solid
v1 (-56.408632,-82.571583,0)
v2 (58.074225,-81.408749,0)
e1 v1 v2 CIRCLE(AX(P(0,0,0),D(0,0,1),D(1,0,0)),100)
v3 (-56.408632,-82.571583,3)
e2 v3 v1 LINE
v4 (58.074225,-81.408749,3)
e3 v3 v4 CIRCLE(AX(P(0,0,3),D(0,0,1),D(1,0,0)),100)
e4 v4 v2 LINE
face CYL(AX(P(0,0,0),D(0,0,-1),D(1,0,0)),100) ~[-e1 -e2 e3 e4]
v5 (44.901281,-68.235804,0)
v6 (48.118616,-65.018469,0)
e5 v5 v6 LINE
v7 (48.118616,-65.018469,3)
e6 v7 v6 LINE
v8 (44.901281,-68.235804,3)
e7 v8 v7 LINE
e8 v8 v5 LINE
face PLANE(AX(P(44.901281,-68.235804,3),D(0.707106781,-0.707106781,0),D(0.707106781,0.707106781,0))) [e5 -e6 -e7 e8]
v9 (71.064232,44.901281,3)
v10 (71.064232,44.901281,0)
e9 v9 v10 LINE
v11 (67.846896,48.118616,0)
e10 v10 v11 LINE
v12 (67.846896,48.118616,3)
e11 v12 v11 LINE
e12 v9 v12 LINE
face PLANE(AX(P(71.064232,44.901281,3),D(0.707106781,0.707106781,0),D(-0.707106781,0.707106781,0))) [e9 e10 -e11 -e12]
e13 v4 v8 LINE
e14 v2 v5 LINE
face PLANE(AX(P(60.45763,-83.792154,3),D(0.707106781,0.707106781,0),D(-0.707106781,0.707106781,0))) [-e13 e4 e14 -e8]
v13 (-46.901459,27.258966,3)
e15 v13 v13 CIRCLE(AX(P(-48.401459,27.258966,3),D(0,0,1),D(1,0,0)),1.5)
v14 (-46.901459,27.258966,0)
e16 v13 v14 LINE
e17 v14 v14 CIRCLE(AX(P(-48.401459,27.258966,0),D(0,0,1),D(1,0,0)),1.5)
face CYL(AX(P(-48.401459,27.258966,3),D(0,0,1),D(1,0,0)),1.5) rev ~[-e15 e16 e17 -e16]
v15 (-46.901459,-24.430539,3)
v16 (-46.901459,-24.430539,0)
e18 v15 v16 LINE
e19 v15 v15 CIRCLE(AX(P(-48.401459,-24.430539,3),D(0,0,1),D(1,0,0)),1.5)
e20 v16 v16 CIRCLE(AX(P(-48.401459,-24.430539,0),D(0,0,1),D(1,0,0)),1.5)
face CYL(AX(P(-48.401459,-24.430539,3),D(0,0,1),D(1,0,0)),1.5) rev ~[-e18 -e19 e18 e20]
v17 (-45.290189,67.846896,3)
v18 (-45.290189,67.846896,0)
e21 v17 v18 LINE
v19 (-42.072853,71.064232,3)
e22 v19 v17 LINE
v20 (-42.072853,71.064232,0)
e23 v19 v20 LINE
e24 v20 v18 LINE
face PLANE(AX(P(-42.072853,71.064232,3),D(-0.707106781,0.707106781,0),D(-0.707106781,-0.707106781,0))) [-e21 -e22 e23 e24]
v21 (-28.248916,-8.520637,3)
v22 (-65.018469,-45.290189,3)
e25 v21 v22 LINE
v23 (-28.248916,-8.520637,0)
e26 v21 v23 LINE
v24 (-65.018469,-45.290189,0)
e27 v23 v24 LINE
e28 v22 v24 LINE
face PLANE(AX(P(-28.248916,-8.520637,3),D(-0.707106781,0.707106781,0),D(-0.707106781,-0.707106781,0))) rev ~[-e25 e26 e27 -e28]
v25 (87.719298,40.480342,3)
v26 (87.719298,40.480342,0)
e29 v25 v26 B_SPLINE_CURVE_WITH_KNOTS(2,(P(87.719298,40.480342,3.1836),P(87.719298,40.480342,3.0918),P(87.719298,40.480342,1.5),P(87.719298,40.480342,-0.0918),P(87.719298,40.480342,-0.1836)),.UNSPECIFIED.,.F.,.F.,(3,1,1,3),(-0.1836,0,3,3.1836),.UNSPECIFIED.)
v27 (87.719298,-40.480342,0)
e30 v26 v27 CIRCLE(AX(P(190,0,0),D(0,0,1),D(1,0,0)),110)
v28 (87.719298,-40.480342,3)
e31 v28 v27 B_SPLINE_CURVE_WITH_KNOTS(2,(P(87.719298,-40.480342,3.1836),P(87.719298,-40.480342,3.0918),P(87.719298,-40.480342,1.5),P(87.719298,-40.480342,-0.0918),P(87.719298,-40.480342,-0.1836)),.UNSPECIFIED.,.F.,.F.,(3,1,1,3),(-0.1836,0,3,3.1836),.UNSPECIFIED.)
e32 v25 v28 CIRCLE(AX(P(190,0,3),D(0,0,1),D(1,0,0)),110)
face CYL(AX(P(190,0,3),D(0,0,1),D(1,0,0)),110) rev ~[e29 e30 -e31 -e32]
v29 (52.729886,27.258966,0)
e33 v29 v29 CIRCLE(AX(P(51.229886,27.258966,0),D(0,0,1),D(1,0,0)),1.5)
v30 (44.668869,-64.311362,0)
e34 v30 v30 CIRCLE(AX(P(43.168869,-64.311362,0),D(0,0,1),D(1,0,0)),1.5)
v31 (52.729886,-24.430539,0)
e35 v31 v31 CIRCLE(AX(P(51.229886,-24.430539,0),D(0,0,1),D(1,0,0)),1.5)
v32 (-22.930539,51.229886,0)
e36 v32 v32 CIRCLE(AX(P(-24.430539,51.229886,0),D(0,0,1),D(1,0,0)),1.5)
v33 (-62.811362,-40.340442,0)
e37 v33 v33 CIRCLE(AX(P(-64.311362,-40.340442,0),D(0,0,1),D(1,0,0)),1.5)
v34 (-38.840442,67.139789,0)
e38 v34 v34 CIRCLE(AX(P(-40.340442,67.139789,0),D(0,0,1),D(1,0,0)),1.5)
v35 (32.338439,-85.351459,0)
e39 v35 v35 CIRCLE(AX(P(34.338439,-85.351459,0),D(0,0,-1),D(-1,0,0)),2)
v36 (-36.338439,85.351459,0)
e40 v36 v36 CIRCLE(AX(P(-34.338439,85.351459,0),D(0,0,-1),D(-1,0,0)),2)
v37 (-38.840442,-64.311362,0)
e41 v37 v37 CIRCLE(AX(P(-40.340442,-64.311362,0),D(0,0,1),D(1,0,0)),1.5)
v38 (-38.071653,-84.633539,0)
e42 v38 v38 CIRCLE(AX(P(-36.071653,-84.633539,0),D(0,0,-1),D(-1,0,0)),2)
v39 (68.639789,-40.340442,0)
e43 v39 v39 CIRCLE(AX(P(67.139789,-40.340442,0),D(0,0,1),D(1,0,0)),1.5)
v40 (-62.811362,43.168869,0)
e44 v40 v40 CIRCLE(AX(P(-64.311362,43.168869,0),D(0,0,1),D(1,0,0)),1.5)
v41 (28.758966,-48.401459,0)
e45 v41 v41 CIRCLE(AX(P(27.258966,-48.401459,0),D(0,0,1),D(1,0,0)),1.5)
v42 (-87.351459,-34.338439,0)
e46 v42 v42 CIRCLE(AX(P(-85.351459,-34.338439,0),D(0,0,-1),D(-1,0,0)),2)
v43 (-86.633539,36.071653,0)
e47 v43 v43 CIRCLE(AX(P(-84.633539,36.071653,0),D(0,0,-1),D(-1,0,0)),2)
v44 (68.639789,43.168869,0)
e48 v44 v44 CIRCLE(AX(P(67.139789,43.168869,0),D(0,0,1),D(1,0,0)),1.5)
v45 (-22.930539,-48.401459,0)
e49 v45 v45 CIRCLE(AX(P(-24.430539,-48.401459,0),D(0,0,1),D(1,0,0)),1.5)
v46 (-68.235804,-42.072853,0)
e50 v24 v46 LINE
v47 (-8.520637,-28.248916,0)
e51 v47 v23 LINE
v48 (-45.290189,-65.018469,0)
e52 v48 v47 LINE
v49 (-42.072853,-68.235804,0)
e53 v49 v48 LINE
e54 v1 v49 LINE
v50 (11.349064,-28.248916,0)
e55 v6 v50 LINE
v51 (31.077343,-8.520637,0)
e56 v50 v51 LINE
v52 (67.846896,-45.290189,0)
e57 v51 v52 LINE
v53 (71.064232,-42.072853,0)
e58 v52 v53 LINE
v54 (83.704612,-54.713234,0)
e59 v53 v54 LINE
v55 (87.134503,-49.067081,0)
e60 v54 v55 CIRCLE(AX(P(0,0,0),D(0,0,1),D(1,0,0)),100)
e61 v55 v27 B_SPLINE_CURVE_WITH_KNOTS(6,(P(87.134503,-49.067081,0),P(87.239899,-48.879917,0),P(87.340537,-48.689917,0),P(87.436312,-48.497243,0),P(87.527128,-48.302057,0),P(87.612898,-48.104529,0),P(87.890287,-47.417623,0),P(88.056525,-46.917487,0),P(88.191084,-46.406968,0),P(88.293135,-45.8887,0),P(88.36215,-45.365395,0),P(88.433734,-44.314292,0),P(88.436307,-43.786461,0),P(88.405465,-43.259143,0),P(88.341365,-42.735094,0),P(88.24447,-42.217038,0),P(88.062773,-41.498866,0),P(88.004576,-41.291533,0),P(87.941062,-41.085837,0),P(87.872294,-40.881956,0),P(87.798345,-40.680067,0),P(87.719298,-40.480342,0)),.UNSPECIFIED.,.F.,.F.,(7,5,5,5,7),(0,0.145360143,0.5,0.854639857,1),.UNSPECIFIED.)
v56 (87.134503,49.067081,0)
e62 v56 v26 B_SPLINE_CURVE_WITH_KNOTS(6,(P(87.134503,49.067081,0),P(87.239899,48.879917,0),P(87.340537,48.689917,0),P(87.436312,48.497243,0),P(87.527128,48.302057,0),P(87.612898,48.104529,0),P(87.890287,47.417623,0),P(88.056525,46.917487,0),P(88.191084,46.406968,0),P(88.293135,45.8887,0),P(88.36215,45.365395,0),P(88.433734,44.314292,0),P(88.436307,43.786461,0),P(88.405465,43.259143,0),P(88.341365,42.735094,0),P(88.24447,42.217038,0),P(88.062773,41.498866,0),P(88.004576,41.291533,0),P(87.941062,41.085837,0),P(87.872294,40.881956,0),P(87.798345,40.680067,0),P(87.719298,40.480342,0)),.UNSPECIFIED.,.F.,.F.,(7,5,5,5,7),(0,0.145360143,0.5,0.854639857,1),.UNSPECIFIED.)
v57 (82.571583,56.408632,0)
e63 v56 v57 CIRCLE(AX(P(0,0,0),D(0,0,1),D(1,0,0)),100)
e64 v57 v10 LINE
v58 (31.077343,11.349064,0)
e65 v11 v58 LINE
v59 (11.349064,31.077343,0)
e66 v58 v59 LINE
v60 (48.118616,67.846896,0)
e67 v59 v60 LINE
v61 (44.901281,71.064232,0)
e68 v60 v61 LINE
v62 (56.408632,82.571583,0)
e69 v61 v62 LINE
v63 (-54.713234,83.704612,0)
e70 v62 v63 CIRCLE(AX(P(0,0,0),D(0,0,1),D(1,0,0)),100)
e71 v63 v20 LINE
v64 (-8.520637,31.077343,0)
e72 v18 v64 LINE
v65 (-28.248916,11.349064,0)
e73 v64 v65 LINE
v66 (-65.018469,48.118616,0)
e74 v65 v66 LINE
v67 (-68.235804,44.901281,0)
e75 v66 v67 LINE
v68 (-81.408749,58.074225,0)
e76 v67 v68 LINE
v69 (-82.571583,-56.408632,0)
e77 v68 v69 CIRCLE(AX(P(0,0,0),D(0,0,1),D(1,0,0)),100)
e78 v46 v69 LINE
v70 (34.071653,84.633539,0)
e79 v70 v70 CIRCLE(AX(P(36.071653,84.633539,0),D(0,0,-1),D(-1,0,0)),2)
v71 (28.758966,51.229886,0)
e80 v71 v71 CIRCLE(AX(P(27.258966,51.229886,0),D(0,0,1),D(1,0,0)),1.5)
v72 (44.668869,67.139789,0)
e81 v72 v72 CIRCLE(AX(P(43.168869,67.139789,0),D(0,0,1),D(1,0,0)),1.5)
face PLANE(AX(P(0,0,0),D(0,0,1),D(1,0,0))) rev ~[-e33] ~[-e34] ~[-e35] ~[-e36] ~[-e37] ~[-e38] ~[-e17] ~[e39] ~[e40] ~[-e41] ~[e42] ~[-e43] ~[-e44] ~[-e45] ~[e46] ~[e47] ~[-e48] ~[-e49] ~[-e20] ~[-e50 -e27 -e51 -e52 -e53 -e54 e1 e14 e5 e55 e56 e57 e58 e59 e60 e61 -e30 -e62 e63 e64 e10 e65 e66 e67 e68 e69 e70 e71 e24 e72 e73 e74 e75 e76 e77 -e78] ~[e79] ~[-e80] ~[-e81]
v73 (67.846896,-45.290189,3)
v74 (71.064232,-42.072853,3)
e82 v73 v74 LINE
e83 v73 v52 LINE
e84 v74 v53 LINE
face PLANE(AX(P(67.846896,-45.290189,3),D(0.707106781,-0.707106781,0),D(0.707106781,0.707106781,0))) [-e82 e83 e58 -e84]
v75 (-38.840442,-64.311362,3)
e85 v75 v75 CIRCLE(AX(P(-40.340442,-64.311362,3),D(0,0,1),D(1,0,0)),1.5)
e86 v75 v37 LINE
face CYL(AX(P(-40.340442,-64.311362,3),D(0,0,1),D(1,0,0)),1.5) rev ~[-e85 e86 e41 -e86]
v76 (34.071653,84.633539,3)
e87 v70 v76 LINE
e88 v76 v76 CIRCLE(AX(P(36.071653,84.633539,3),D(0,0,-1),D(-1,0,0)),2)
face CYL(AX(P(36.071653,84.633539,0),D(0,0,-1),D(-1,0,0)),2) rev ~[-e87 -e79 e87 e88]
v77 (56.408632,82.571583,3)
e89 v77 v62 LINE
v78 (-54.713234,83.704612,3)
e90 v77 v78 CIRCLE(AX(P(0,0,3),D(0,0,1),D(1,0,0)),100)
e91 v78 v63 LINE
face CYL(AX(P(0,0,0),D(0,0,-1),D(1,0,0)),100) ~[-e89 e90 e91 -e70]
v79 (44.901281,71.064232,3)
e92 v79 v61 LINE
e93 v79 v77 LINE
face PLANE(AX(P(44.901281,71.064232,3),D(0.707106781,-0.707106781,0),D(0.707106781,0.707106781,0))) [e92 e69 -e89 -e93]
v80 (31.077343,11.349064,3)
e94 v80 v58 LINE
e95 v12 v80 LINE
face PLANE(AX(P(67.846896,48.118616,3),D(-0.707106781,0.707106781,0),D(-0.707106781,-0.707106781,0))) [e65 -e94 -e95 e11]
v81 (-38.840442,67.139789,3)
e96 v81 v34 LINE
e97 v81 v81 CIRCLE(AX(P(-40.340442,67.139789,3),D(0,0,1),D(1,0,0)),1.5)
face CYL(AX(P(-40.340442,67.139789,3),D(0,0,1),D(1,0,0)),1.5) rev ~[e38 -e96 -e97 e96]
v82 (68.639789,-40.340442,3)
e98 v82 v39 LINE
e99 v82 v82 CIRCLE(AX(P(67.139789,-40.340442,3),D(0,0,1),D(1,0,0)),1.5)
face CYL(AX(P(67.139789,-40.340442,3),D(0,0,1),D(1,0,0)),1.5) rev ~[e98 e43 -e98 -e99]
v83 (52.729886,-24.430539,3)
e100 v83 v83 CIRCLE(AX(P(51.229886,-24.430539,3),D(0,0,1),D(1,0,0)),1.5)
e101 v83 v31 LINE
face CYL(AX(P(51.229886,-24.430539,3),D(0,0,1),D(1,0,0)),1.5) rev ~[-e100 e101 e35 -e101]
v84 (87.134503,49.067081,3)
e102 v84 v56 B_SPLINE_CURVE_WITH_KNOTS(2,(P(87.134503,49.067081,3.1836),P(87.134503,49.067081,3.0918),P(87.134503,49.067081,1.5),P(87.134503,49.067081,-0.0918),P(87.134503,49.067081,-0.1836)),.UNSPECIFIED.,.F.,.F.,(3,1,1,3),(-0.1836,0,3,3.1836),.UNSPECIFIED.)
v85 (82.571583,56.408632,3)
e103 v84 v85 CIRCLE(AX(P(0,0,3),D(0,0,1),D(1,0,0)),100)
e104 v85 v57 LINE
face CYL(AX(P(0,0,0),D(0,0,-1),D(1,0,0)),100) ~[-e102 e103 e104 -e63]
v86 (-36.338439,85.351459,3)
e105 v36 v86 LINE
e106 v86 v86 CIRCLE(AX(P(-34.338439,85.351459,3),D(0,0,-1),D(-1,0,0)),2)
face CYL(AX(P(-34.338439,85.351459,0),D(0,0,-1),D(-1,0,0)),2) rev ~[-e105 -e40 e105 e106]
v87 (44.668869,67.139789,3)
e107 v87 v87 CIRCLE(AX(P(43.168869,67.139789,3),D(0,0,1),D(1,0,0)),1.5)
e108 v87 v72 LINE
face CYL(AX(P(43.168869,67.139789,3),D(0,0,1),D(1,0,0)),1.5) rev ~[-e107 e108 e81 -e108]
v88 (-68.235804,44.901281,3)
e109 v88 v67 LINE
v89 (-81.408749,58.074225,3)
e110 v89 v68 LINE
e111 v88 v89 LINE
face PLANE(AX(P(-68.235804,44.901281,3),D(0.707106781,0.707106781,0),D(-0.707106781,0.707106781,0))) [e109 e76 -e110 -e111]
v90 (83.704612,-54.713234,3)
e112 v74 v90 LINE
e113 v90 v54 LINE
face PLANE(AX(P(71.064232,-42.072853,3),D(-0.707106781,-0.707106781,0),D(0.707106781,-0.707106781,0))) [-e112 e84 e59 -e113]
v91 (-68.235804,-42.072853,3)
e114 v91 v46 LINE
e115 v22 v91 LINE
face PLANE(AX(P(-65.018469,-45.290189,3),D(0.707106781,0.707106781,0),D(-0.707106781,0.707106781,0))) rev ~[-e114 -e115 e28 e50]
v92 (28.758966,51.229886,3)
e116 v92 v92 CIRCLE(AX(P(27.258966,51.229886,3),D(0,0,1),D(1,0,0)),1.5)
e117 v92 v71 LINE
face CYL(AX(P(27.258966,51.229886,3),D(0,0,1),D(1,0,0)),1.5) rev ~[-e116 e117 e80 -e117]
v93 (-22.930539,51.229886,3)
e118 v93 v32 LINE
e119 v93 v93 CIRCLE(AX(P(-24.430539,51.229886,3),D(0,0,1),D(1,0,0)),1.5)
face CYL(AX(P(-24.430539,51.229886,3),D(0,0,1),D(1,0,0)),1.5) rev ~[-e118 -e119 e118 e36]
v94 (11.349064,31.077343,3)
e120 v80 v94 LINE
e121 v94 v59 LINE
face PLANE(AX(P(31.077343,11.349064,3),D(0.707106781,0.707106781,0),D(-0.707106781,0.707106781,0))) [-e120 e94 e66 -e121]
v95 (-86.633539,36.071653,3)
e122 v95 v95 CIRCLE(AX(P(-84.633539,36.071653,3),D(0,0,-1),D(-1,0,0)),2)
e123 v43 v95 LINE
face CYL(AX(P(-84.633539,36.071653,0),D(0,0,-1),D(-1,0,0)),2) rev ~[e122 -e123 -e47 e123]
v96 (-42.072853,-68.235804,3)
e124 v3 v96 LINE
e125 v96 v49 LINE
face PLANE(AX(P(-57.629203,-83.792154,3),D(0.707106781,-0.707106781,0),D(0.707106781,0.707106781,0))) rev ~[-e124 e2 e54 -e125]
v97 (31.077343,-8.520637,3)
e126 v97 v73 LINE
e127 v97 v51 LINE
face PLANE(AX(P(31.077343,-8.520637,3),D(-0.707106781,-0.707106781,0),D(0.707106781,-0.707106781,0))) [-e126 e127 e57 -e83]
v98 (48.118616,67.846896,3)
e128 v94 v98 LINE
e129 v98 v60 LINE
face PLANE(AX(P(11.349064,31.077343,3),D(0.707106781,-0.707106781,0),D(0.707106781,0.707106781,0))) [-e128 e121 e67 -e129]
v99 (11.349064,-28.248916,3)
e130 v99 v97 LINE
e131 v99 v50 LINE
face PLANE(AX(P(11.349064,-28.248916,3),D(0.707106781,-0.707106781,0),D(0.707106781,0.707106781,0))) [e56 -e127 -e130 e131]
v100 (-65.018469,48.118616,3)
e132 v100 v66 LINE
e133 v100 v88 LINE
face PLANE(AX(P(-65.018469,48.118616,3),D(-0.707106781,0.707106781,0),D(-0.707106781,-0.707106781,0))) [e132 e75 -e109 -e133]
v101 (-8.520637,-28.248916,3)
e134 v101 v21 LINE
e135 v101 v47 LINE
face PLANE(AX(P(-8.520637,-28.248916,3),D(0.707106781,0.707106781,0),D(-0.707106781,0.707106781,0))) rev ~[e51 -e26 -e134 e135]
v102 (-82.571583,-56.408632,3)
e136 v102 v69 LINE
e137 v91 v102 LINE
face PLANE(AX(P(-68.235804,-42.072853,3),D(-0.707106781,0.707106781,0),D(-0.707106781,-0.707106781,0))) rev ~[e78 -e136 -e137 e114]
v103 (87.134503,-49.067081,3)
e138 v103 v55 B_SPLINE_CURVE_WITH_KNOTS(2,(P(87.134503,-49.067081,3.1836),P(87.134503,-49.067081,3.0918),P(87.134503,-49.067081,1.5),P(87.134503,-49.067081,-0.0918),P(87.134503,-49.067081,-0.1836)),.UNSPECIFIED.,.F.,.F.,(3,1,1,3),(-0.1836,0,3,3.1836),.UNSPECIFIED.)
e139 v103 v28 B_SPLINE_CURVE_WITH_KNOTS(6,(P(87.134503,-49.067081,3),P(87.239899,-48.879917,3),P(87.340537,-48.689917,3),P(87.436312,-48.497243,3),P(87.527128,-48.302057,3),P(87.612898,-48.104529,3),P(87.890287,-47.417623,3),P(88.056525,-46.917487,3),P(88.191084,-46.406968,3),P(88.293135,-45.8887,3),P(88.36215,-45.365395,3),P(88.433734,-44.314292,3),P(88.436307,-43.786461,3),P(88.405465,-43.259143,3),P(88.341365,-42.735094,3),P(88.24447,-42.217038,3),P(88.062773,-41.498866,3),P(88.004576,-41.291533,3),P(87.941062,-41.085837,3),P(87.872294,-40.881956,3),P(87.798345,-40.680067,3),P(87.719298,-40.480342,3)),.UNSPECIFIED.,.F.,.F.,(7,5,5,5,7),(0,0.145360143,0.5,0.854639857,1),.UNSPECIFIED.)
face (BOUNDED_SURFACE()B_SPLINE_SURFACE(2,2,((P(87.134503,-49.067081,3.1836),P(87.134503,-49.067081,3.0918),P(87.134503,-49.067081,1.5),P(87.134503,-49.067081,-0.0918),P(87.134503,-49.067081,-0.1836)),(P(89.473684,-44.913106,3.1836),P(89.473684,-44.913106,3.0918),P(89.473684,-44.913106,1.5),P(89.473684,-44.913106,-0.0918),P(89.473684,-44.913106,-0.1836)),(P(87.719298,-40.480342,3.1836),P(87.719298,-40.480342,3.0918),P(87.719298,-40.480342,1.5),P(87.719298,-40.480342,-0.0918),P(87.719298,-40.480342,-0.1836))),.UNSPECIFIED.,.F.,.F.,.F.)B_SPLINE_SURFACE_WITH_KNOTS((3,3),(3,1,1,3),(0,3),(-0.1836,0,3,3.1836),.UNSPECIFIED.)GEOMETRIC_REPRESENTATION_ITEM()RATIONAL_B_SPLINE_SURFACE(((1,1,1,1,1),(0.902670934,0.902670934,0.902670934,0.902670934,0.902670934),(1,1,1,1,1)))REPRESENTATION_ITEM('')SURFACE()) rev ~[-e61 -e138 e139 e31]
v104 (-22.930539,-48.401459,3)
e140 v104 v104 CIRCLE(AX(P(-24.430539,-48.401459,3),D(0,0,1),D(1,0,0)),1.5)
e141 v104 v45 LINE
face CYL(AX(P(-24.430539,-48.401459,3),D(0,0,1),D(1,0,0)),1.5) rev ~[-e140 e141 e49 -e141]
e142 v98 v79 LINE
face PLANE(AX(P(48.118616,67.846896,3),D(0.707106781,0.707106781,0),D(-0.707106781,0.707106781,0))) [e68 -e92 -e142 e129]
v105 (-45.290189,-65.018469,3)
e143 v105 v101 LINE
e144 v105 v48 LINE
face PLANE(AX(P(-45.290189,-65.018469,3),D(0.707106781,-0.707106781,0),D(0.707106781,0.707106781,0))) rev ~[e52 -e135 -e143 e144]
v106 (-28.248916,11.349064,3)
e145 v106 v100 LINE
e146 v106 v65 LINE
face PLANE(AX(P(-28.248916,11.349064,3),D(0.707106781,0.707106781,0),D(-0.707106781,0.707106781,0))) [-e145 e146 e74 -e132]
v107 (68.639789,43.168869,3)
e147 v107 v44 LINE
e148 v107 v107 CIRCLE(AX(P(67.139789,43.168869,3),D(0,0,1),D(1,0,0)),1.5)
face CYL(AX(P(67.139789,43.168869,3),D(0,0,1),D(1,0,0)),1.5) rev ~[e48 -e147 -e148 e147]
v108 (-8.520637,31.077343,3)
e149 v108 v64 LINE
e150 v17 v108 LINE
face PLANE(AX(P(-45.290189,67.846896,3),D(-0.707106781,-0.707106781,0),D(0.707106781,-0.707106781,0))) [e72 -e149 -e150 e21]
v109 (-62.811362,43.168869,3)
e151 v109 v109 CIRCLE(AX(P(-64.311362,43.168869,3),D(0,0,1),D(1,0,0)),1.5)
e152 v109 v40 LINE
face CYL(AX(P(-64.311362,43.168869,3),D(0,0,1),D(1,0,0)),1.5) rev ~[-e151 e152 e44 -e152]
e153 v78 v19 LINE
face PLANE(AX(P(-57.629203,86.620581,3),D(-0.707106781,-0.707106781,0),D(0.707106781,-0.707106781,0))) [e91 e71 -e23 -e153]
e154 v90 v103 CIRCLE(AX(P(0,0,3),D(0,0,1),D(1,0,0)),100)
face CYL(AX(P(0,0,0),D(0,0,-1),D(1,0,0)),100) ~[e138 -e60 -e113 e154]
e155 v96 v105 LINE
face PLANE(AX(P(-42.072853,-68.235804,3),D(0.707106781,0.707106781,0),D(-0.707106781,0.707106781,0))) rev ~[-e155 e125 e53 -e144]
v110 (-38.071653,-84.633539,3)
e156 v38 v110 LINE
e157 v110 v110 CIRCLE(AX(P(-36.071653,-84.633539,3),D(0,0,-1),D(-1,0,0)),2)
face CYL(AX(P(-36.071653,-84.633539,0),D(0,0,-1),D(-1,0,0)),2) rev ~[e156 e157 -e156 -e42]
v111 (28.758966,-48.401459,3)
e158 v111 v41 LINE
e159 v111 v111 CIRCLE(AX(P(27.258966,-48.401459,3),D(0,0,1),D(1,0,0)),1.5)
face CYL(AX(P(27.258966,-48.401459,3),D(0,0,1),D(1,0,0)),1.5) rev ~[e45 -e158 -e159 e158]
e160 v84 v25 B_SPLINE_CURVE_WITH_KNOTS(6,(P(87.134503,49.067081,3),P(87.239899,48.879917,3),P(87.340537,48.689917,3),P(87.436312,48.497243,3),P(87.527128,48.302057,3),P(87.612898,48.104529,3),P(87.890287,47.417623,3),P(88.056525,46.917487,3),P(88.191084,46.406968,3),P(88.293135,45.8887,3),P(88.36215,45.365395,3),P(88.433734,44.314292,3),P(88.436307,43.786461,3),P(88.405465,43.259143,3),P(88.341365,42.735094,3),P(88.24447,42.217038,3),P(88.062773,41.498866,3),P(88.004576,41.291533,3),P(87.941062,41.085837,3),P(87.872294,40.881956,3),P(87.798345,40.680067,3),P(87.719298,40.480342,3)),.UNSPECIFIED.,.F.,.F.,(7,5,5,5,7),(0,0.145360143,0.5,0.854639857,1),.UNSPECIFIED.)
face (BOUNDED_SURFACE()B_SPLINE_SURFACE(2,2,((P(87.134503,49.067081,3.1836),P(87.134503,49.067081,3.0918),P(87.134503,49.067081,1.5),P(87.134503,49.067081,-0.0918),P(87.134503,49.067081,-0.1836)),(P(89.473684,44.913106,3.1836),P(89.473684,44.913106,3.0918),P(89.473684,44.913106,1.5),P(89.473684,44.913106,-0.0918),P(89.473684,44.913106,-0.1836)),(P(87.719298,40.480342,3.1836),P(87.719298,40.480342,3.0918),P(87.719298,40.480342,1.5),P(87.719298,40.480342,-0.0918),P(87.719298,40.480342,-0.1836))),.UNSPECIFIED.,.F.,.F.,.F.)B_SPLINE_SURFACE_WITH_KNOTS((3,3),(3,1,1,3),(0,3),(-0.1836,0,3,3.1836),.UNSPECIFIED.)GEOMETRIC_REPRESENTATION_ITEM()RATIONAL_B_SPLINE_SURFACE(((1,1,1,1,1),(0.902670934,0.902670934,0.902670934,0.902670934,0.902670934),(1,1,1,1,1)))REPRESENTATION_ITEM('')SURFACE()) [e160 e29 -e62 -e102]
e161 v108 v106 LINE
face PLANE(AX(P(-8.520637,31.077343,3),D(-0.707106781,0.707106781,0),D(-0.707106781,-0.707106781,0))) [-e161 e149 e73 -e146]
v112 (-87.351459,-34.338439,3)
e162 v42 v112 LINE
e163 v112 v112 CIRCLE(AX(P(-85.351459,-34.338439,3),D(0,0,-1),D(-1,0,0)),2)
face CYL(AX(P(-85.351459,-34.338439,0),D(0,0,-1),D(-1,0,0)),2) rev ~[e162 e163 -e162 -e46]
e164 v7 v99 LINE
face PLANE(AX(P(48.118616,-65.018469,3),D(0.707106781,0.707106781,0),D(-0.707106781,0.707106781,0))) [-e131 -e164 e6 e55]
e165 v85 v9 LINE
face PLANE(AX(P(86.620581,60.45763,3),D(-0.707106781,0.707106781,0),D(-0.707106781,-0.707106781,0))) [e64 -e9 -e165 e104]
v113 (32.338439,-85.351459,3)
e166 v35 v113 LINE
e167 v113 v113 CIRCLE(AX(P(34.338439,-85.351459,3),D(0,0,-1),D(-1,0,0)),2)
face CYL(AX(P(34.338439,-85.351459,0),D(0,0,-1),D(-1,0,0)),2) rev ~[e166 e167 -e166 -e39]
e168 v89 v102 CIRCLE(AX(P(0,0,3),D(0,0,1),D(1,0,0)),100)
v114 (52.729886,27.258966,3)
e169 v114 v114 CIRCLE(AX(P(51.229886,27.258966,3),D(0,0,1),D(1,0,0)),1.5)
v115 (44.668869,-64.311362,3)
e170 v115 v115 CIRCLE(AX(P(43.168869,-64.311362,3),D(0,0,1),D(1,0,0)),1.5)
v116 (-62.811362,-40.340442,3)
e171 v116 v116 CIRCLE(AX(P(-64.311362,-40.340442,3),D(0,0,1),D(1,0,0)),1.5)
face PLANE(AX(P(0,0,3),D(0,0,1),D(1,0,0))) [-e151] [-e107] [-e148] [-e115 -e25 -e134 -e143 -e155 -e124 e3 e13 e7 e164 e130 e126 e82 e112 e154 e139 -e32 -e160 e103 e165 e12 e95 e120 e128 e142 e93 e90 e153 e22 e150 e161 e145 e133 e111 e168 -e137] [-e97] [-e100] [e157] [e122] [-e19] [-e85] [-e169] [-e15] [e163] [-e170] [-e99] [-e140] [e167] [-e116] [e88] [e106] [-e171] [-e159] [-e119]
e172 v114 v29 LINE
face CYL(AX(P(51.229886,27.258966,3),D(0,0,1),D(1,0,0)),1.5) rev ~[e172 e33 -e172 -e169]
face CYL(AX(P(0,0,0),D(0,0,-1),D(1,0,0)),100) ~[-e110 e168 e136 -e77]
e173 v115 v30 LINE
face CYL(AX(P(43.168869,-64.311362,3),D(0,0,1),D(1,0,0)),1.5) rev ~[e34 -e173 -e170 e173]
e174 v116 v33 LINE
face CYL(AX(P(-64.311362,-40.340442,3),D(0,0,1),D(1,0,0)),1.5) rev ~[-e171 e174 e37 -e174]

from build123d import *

# Parameters (mm, degrees)
CROQUIS1_R              = 100
SALIENTE_EXTRUIR1_DEPTH = 3
CROQUIS3_R              = 110
CORTAR_EXTRUIR1_DEPTH   = 3
REDONDEO1_R             = 10
CORTAR_EXTRUIR2_DEPTH   = 142.453172607
CROQUIS5_R              = 1.5
CORTAR_EXTRUIR3_DEPTH   = 10
CROQUIS6_R              = 2
CORTAR_EXTRUIR4_DEPTH   = 142.453172607


with BuildPart() as part:
    # Croquis1 → Saliente-Extruir1 (new body)
    with BuildSketch(Plane.XY):
        Circle(CROQUIS1_R)
    extrude(amount=SALIENTE_EXTRUIR1_DEPTH)

    # Croquis3 → Cortar-Extruir1 (cut)
    with BuildSketch(Plane.XY.offset(3)):
        with Locations((190, 0)):
            Circle(CROQUIS3_R)
    extrude(amount=-CORTAR_EXTRUIR1_DEPTH, mode=Mode.SUBTRACT)

    # Redondeo1
    redondeo1_edges = [part.edges().sort_by_distance(p)[0] for p in [
        (89.473684211, -44.659375654, 1.5),
        (89.473684211, 44.659375654, 1.5),
    ]]
    fillet(redondeo1_edges, radius=REDONDEO1_R)

    # Croquis4 → Cortar-Extruir2 (cut, through all)
    with BuildSketch(Plane.XY.offset(3)):
        Polygon((-83.792153571, -57.629202667), (-57.629202667, -83.792153571), (-42.072853481, -68.235804385), (-45.290189335, -65.01846853), (-8.520636713, -28.248915908), (-28.248915908, -8.520636713), (-65.01846853, -45.290189335), (-68.235804385, -42.072853481), align=None)
        Polygon((-8.520636713, 31.077343033), (-28.248915908, 11.349063838), (-65.01846853, 48.11861646), (-68.235804385, 44.901280605), (-83.792153571, 60.457629791), (-57.629202667, 86.620580695), (-42.072853481, 71.064231509), (-45.290189335, 67.846895655), align=None)
        Polygon((31.077343033, 11.349063838), (11.349063838, 31.077343033), (48.11861646, 67.846895655), (44.901280605, 71.064231509), (60.457629791, 86.620580695), (86.620580695, 60.457629791), (71.064231509, 44.901280605), (67.846895655, 48.11861646), align=None)
        Polygon((11.349063838, -28.248915908), (31.077343033, -8.520636713), (67.846895655, -45.290189335), (71.064231509, -42.072853481), (86.620580695, -57.629202667), (60.457629791, -83.792153571), (44.901280605, -68.235804385), (48.11861646, -65.01846853), align=None)
    extrude(amount=-CORTAR_EXTRUIR2_DEPTH, mode=Mode.SUBTRACT)

    # Croquis5 → Cortar-Extruir3 (cut)
    with BuildSketch(Plane.XY.offset(3)):
        with Locations((-64.311361749, -40.340441867)):
            Circle(CROQUIS5_R)
        with Locations((-48.401459172, -24.43053929)):
            Circle(CROQUIS5_R)
        with Locations((-24.43053929, -48.401459172)):
            Circle(CROQUIS5_R)
        with Locations((-40.340441867, -64.311361749)):
            Circle(CROQUIS5_R)
        with Locations((-24.43053929, 51.229886297)):
            Circle(CROQUIS5_R)
        with Locations((-40.340441867, 67.139788874)):
            Circle(CROQUIS5_R)
        with Locations((-48.401459172, 27.258966415)):
            Circle(CROQUIS5_R)
        with Locations((-64.311361749, 43.168868991)):
            Circle(CROQUIS5_R)
        with Locations((51.229886297, 27.258966415)):
            Circle(CROQUIS5_R)
        with Locations((67.139788874, 43.168868991)):
            Circle(CROQUIS5_R)
        with Locations((27.258966415, 51.229886297)):
            Circle(CROQUIS5_R)
        with Locations((43.168868991, 67.139788874)):
            Circle(CROQUIS5_R)
        with Locations((27.258966415, -48.401459172)):
            Circle(CROQUIS5_R)
        with Locations((43.168868991, -64.311361749)):
            Circle(CROQUIS5_R)
        with Locations((51.229886297, -24.43053929)):
            Circle(CROQUIS5_R)
        with Locations((67.139788874, -40.340441867)):
            Circle(CROQUIS5_R)
    extrude(amount=-CORTAR_EXTRUIR3_DEPTH, mode=Mode.SUBTRACT)

    # Croquis6 → Cortar-Extruir4 (cut, through all)
    with BuildSketch(Plane(origin=(0, 0, 0), x_dir=(-1, 0, 0), z_dir=(0, 0, -1))):
        with Locations((-36.071652756, 84.633538668)):
            Circle(CROQUIS6_R)
        with Locations((34.338438835, 85.35145938)):
            Circle(CROQUIS6_R)
        with Locations((84.633538668, 36.071652756)):
            Circle(CROQUIS6_R)
        with Locations((85.35145938, -34.338438835)):
            Circle(CROQUIS6_R)
        with Locations((36.071652756, -84.633538668)):
            Circle(CROQUIS6_R)
        with Locations((-34.338438835, -85.35145938)):
            Circle(CROQUIS6_R)
    extrude(amount=-CORTAR_EXTRUIR4_DEPTH, mode=Mode.SUBTRACT)


solid = part.part
